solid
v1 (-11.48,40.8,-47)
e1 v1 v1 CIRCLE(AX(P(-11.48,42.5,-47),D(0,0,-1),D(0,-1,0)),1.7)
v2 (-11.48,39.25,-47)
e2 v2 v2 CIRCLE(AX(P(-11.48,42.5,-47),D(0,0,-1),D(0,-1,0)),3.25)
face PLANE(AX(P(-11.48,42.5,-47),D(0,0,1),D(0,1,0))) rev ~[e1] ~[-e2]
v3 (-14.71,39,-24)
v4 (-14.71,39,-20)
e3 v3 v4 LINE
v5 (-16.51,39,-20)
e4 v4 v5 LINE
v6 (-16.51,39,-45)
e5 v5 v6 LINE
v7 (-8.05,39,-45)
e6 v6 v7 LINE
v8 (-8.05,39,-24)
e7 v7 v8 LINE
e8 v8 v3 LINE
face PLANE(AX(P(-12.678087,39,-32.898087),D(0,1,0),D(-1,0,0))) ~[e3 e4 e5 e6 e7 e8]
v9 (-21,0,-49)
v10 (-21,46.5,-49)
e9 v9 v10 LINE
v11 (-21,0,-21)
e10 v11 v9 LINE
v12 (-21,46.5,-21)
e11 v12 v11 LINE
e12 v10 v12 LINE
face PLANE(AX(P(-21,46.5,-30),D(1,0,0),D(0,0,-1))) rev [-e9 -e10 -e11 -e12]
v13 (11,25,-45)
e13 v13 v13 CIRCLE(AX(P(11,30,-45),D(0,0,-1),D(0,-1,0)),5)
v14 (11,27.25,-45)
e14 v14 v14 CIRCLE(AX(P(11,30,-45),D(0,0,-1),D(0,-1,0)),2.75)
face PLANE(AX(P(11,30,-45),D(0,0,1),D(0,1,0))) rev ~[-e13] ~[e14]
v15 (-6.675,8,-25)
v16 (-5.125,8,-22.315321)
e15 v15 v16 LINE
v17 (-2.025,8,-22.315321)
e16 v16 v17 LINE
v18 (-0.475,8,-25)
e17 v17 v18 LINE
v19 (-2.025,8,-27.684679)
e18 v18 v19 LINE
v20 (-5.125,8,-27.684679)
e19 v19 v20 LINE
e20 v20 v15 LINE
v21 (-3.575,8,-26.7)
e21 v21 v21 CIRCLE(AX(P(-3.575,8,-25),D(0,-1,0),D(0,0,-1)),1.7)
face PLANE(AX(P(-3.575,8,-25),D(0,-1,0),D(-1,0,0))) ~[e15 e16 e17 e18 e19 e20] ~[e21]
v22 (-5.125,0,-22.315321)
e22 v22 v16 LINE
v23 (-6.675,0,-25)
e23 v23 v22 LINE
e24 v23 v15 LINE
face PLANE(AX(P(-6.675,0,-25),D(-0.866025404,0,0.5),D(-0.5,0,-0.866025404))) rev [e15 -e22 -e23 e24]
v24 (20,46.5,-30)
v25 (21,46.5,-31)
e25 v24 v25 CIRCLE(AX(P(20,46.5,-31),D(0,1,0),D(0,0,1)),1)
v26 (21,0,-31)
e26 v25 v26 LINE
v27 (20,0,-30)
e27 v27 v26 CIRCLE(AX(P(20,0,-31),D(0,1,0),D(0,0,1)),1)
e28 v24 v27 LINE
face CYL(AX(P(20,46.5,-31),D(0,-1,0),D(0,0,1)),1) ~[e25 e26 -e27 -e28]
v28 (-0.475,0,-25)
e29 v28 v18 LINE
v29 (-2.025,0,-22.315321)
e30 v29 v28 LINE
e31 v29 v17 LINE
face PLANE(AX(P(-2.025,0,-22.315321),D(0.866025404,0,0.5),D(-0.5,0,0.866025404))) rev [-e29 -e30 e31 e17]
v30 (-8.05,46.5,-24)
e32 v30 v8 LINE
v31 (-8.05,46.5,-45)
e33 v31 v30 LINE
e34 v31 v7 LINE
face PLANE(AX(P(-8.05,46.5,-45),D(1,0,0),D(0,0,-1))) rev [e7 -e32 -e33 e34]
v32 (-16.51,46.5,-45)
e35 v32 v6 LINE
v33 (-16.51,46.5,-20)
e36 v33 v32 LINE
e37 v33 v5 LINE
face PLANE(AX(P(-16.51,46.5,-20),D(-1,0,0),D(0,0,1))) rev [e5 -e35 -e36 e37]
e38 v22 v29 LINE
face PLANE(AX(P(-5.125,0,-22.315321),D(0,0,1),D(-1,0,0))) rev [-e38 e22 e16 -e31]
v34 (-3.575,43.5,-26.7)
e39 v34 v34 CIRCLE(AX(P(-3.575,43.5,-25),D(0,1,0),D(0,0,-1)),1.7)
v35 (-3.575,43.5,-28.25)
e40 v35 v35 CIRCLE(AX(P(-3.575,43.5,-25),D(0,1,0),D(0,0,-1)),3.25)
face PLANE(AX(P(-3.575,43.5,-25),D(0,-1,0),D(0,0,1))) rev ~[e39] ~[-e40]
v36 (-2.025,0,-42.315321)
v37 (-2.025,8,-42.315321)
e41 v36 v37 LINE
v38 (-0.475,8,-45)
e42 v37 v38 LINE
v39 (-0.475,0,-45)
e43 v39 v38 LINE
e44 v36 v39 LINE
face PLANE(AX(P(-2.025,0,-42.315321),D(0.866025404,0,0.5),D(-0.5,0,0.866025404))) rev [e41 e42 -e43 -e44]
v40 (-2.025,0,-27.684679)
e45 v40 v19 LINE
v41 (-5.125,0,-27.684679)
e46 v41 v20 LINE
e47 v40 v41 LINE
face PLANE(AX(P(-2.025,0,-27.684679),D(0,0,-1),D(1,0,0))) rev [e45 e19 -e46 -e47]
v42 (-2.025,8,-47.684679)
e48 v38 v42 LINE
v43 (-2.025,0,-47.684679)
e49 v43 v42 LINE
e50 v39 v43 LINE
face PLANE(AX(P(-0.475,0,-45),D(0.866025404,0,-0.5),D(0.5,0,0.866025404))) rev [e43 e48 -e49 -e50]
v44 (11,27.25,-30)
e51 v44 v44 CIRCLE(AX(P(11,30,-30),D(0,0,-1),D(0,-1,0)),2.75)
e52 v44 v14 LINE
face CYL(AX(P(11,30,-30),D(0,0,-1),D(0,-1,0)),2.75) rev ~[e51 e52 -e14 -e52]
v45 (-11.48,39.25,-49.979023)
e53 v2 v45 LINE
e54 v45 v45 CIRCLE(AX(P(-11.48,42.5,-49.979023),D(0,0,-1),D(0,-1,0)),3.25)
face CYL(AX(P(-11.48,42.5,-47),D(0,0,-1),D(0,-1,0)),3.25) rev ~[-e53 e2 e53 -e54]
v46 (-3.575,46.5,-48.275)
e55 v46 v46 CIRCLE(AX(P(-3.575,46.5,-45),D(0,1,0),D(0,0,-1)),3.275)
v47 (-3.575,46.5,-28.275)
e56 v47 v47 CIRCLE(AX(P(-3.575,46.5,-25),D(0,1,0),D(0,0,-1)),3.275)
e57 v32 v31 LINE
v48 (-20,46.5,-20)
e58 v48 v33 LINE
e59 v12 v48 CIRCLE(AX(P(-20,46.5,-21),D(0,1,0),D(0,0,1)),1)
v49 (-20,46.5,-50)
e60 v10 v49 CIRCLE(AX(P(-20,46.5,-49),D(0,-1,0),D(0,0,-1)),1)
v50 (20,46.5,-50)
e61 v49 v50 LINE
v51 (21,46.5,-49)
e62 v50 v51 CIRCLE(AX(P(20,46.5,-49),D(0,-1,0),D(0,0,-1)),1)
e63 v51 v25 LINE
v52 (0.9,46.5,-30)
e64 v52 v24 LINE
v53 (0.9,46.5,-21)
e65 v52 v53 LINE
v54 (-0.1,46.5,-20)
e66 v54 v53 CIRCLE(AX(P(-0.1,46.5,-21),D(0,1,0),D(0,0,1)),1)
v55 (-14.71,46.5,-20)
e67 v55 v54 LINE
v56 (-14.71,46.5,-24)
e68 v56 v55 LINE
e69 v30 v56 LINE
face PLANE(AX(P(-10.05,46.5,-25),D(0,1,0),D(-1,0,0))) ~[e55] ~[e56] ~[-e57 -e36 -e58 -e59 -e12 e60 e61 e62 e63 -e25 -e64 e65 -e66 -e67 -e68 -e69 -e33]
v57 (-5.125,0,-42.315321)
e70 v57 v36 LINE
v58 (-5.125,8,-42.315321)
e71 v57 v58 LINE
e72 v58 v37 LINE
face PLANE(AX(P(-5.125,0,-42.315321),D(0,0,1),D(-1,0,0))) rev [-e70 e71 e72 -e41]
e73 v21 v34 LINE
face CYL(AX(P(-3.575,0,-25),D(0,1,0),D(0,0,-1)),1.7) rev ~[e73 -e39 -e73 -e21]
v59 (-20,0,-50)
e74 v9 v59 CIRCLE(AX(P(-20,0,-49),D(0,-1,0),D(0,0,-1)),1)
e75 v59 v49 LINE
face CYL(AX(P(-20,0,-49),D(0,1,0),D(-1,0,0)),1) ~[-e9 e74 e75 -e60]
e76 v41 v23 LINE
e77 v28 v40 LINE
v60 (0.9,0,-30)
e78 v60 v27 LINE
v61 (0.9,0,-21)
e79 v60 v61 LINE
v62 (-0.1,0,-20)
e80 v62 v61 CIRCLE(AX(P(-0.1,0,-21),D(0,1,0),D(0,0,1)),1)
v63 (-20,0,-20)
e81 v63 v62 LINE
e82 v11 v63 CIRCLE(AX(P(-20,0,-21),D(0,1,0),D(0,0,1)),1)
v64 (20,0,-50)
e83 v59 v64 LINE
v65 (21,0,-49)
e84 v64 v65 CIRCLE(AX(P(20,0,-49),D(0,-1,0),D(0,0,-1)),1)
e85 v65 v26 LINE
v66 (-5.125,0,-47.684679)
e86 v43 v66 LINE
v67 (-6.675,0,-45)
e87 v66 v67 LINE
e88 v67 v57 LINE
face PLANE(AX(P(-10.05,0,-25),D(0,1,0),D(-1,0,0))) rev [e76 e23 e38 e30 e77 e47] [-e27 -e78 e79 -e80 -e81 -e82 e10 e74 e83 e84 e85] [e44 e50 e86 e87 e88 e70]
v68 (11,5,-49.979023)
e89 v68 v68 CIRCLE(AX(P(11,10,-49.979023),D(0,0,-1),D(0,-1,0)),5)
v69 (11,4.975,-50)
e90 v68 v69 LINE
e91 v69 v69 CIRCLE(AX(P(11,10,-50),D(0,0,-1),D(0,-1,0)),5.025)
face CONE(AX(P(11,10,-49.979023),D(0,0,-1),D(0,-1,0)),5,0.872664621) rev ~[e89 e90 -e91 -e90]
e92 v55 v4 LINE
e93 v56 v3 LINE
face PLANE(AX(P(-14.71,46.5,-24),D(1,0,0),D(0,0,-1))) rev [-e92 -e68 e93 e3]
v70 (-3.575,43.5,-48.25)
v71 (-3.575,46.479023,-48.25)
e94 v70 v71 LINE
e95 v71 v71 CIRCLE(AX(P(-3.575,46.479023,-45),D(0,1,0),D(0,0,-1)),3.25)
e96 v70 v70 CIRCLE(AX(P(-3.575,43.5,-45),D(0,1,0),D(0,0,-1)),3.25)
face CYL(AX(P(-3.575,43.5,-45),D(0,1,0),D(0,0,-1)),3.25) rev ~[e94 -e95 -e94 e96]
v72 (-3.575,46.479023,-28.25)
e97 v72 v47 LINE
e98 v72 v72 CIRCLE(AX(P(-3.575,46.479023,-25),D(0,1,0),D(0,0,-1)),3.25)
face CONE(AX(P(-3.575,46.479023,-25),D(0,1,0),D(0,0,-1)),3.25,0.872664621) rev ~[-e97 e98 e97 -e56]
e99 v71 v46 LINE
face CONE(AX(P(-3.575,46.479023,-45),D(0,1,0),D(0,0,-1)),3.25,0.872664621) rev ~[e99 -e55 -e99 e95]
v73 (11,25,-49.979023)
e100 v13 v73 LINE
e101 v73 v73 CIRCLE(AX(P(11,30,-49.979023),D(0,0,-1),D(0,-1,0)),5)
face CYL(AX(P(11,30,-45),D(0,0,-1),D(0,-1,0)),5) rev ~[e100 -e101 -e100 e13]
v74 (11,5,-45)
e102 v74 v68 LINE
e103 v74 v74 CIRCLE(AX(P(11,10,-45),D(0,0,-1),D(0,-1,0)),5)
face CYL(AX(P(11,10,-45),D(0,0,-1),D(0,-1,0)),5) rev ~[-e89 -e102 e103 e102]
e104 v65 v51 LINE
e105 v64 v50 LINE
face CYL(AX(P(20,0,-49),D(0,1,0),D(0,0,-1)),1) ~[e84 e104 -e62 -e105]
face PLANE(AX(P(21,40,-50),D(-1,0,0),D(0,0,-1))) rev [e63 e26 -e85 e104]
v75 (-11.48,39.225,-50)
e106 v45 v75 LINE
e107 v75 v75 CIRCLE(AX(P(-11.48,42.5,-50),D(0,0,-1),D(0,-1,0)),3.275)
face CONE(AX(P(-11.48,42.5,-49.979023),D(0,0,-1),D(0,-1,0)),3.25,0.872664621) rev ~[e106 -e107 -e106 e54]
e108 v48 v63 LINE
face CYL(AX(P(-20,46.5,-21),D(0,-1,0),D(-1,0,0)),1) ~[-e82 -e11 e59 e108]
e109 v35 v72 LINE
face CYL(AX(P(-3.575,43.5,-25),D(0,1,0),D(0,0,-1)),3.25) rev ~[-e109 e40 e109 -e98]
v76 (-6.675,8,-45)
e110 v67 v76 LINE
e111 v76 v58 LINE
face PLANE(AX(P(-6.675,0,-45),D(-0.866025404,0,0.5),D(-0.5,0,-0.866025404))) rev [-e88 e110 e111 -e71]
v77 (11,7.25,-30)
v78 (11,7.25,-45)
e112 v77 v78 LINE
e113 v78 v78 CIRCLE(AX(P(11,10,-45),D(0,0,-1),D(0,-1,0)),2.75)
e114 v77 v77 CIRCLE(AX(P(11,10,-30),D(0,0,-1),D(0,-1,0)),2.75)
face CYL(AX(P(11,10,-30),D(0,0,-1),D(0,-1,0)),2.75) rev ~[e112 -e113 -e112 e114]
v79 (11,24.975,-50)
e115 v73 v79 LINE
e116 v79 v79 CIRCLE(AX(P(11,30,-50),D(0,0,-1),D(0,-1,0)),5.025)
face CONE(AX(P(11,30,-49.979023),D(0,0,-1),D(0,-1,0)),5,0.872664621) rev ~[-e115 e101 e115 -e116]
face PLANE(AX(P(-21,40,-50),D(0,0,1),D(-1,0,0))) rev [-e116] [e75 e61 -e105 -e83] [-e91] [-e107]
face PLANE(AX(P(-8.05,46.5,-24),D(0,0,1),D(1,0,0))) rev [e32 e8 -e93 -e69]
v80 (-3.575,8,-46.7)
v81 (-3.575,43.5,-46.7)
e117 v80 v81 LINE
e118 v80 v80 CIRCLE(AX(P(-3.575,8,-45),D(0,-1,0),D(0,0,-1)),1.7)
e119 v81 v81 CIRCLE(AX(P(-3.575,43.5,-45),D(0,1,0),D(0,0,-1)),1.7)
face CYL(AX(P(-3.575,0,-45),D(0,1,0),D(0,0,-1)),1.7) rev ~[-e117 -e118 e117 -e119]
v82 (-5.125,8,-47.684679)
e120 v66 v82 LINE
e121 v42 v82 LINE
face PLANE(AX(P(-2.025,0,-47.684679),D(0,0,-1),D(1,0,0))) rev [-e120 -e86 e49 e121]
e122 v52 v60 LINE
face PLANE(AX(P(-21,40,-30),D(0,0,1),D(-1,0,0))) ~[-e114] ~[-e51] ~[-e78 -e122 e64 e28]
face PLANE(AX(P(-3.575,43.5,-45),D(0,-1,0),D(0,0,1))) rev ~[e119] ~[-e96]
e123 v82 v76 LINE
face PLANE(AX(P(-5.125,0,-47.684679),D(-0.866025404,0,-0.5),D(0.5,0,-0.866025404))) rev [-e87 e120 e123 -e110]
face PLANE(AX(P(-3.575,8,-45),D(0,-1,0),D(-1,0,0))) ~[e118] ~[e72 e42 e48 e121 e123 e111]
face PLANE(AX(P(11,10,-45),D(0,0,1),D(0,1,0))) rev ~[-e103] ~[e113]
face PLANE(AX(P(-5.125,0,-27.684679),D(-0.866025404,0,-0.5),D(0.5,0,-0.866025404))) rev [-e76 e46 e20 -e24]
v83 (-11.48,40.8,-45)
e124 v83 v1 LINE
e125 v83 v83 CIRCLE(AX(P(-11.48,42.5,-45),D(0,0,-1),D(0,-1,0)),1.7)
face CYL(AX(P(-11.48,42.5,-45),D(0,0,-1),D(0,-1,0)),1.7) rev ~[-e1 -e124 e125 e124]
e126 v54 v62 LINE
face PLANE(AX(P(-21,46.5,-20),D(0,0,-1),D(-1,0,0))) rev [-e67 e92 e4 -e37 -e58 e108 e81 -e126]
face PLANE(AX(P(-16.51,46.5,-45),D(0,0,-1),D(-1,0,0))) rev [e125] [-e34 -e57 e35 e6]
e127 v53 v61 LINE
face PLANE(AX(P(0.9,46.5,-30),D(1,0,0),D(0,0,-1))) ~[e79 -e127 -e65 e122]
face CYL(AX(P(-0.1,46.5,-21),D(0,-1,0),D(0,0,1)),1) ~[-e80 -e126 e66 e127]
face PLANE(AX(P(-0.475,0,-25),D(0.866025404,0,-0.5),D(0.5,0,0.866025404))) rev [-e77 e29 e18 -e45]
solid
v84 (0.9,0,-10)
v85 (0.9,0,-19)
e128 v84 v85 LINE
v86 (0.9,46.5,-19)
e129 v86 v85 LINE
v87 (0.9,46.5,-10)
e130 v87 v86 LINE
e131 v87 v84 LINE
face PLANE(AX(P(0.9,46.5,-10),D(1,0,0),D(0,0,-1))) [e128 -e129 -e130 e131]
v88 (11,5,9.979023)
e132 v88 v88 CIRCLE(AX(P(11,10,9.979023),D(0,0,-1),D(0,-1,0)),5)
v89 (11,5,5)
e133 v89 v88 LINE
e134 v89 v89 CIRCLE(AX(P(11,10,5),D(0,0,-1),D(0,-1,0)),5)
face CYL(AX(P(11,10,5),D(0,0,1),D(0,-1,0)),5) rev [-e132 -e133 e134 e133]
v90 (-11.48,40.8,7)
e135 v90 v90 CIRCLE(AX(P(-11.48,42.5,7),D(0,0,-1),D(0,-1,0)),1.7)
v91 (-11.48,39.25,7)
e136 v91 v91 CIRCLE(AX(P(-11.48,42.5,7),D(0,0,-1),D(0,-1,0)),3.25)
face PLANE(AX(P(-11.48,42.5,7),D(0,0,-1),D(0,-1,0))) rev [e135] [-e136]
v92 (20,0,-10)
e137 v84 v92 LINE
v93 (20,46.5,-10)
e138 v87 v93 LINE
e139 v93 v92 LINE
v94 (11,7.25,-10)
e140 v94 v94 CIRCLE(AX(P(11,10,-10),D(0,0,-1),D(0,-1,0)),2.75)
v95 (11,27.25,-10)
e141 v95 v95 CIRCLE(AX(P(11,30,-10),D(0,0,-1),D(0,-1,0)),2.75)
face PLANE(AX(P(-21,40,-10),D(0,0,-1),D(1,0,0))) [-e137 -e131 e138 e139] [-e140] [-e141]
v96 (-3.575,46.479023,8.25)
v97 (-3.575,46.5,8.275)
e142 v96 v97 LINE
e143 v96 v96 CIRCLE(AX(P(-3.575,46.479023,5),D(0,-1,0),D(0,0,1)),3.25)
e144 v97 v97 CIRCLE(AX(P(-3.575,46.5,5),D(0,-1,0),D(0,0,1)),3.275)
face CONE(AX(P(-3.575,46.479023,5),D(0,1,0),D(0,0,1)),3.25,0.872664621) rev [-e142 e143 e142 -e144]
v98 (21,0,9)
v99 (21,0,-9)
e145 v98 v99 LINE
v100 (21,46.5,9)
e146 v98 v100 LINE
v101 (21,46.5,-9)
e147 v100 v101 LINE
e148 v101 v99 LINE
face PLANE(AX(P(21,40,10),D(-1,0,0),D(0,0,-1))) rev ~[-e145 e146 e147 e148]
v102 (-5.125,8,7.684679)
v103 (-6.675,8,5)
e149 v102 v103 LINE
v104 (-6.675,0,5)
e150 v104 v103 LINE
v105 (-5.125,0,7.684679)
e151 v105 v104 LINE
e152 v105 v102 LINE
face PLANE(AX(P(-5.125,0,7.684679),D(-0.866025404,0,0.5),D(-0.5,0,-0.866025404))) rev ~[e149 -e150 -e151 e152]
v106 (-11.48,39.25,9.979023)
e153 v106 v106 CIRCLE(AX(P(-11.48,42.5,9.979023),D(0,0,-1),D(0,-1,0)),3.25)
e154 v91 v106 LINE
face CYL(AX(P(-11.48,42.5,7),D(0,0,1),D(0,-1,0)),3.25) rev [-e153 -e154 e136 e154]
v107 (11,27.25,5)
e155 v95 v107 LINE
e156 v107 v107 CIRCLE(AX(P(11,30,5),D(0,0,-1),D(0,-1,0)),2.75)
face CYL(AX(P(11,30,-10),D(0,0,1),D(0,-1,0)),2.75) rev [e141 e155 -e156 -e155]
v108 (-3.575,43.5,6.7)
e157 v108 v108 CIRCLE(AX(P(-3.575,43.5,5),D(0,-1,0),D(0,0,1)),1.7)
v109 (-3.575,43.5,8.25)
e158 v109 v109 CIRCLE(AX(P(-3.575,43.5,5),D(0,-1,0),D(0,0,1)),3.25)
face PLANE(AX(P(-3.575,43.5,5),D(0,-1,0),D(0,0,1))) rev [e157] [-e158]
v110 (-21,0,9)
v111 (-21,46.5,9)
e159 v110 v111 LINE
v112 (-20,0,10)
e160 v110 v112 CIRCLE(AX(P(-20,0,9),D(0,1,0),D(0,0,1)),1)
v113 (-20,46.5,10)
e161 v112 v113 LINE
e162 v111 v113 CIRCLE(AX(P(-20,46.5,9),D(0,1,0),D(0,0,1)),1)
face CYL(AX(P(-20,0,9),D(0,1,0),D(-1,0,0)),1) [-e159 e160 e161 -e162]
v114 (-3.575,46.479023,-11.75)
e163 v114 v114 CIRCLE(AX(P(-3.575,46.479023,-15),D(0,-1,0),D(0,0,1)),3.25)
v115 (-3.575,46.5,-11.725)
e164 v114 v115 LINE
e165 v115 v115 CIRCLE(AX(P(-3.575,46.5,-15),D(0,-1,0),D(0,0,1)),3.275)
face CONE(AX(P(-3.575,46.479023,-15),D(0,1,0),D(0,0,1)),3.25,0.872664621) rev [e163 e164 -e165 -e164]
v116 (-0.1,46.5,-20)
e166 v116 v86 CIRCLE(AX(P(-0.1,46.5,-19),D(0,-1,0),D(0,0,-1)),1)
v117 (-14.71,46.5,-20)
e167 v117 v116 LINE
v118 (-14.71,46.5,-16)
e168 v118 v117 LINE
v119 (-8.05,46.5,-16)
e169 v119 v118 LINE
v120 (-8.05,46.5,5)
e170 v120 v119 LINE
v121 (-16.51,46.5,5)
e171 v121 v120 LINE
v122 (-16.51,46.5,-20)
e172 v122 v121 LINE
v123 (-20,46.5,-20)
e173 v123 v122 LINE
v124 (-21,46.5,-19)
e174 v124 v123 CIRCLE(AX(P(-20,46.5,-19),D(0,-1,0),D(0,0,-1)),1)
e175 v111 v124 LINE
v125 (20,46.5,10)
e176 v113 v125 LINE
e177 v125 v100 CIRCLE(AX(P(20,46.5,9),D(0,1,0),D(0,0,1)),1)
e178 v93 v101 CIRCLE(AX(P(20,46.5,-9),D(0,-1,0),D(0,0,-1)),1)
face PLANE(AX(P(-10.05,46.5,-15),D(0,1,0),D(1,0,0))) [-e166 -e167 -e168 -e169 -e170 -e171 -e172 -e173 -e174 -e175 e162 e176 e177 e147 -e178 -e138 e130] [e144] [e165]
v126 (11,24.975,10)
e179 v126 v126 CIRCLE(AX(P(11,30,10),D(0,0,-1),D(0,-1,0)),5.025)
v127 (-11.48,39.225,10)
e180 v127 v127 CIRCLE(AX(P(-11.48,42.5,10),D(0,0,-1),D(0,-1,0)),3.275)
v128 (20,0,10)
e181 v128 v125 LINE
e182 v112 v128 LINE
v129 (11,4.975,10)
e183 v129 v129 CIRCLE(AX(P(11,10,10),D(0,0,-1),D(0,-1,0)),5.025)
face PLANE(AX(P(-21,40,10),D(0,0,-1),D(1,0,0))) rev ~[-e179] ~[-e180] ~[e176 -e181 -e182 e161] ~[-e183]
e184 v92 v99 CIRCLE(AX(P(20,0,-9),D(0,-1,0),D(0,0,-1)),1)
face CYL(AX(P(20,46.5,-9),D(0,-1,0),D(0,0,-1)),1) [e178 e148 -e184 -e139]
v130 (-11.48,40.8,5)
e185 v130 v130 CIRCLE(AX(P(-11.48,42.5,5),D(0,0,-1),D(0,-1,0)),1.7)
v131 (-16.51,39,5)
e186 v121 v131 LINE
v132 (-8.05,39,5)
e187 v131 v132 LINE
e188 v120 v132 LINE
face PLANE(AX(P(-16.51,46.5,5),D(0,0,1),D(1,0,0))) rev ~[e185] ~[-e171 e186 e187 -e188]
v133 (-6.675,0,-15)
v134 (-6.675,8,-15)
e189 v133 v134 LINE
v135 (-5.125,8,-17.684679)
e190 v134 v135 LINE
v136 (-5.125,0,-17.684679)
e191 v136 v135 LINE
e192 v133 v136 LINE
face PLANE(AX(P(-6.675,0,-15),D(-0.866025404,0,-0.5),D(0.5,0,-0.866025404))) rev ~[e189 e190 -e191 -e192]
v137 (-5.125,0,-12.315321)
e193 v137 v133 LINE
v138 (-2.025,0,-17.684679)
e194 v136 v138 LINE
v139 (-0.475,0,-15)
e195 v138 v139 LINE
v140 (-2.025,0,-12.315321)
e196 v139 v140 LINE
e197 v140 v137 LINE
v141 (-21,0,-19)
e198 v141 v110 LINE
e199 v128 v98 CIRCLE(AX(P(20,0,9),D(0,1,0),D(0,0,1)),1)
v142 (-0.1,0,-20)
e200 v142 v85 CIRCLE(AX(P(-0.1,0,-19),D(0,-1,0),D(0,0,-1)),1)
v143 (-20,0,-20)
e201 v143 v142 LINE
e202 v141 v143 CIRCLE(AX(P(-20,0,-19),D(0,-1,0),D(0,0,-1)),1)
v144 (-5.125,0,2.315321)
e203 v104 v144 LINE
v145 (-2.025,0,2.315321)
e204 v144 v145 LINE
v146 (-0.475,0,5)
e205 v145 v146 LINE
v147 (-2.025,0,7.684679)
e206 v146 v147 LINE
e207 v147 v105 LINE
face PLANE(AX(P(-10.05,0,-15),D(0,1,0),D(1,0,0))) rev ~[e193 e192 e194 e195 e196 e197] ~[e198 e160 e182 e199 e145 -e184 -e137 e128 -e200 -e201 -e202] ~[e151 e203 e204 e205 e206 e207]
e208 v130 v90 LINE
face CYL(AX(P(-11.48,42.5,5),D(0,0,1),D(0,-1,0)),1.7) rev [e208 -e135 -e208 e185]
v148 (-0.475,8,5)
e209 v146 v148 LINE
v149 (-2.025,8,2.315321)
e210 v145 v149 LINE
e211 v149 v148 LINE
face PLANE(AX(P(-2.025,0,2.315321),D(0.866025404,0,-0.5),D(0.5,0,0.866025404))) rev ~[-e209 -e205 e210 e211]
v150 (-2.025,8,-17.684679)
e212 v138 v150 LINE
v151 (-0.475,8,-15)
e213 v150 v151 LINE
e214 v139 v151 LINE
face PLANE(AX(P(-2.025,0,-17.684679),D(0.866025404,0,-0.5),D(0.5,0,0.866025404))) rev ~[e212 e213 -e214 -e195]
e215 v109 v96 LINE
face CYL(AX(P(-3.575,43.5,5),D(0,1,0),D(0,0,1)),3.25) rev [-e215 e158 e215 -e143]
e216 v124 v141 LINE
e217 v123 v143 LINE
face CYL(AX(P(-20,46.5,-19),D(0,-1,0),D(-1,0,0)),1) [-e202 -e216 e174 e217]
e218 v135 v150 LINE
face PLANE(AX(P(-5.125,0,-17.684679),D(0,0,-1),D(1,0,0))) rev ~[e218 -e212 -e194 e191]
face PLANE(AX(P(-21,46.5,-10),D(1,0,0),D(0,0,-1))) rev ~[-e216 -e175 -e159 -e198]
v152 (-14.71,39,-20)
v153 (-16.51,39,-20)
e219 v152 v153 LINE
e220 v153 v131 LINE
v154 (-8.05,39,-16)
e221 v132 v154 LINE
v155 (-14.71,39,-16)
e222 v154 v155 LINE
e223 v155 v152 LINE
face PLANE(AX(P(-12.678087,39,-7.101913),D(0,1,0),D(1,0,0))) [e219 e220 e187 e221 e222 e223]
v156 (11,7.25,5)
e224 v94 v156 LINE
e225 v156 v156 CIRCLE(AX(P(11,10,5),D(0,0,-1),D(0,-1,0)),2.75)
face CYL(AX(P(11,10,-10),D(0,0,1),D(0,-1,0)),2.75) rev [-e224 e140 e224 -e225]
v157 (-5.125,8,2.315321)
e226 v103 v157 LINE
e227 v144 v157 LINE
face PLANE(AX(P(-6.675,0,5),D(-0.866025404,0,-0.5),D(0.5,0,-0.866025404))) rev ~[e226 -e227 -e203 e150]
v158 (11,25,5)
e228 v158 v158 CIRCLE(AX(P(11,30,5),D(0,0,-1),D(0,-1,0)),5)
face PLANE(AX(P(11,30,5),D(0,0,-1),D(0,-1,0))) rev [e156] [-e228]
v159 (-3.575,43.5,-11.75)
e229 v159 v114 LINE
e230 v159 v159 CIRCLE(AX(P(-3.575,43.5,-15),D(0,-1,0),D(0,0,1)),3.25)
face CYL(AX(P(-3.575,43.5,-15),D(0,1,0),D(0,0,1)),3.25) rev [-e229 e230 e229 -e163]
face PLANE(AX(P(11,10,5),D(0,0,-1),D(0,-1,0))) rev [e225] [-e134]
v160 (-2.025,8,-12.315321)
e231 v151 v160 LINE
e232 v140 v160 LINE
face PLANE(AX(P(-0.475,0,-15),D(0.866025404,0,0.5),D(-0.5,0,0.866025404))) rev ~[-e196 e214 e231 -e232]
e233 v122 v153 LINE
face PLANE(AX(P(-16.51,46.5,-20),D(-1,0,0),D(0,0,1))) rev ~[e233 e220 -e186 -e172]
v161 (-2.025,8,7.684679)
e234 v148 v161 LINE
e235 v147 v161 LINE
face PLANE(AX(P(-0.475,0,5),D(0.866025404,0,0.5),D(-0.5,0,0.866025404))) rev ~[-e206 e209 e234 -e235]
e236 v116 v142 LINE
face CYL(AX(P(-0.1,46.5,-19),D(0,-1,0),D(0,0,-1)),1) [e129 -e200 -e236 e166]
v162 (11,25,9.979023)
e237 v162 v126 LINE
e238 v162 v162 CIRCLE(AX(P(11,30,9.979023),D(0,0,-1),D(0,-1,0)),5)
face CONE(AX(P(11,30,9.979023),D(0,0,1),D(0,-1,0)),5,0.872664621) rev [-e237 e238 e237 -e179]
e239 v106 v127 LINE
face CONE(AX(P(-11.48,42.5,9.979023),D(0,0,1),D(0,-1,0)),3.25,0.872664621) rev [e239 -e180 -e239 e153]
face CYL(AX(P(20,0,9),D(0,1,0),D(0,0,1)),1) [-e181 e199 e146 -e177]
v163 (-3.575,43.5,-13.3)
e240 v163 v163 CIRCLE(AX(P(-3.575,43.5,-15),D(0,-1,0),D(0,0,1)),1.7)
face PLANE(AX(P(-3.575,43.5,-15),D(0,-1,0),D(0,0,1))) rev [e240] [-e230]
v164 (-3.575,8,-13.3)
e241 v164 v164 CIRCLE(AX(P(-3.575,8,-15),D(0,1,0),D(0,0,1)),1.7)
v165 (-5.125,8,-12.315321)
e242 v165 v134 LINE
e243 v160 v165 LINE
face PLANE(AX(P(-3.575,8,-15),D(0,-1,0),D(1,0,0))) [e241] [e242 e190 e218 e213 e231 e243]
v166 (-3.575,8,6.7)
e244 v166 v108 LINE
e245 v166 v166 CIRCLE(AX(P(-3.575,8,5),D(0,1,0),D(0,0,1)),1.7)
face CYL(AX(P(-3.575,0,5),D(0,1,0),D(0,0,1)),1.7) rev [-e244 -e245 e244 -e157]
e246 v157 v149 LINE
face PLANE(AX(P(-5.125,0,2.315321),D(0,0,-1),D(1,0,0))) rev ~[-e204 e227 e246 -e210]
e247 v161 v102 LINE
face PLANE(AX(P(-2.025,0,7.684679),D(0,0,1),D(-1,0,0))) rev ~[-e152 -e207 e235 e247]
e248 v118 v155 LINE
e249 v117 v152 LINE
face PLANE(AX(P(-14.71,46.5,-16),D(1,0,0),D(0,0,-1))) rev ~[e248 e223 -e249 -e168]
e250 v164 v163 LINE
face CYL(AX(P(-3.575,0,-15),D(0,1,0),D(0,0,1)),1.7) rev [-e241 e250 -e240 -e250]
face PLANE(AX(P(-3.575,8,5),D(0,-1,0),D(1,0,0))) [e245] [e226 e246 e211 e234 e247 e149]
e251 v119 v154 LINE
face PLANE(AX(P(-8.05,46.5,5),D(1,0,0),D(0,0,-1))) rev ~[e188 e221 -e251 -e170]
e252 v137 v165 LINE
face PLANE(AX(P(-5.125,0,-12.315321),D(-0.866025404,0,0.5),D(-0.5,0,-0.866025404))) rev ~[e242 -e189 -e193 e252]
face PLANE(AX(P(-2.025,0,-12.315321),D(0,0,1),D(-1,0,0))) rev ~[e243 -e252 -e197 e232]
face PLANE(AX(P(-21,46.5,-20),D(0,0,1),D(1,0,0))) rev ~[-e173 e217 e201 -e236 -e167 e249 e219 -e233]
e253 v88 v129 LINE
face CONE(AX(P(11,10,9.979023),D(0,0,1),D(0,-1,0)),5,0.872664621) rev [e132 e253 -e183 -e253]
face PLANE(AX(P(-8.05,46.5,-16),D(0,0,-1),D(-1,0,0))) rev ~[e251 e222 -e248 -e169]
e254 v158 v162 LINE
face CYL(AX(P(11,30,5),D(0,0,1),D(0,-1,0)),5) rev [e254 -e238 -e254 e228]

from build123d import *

# Parameters (mm, degrees)
SKETCH1_W                     = 42
SKETCH1_H                     = 20
BOSS_EXTRUDE1_DEPTH           = 40
CBORE_FOR_M5_SHCS1_AT_2_COUNT = 2
CBORE_FOR_M5_SHCS1_AT_2_PITCH = 20
SKETCH5_W                     = 42
SKETCH5_H                     = 20
BOSS_EXTRUDE2_DEPTH           = 6.5
SKETCH12_W                    = 21.9
SKETCH12_H                    = 10
BOSS_EXTRUDE3_DEPTH           = 46.5
CUT_EXTRUDE1_DEPTH            = 7.5
FILLET1_R                     = 1
CBORE_FOR_M3_SHCS2_AT_2_COUNT = 2
CBORE_FOR_M3_SHCS2_AT_2_PITCH = 20
CUT_EXTRUDE2_DEPTH            = 8


with BuildPart() as part:
    # Sketch1 → Boss-Extrude1 (new body)
    with BuildSketch(Plane(origin=(0, 0, 0), x_dir=(1, 0, 0), z_dir=(0, 1, 0))):
        Rectangle(SKETCH1_W, SKETCH1_H)
    extrude(amount=BOSS_EXTRUDE1_DEPTH)

    # Sketch4 → CBORE for M5 SHCS1 (revolve, cut)
    with BuildSketch(Plane(origin=(11, 30, 10), x_dir=(0, -1, 0), z_dir=(1, 0, 0))):
        Polygon((0, 0), (0, 20), (2.75, 20), (2.75, 5), (5, 5), (5, 0.020977491), (5.025, 0), align=None)
    cbore_for_m5_shcs1 = revolve(axis=Axis((11, 30, 16.35), (0, 0, -1)), mode=Mode.SUBTRACT)

    # CBORE for M5 SHCS1 at 2: CBORE for M5 SHCS1 ×2
    with Locations(*[(0, -i * CBORE_FOR_M5_SHCS1_AT_2_PITCH, 0) for i in range(1, CBORE_FOR_M5_SHCS1_AT_2_COUNT)]):
        add(cbore_for_m5_shcs1, mode=Mode.SUBTRACT)

    # Sketch5 → Boss-Extrude2 (add)
    with BuildSketch(Plane(origin=(0, 40, 0), x_dir=(1, 0, 0), z_dir=(0, 1, 0))):
        Rectangle(SKETCH5_W, SKETCH5_H)
    extrude(amount=BOSS_EXTRUDE2_DEPTH)

    # Sketch12 → Boss-Extrude3 (add)
    with BuildSketch(Plane(origin=(0, 46.5, 0), x_dir=(1, 0, 0), z_dir=(0, 1, 0))):
        with Locations((-10.05, 15)):
            Rectangle(SKETCH12_W, SKETCH12_H)
    extrude(amount=-BOSS_EXTRUDE3_DEPTH)

    # Sketch6 → Cut-Extrude1 (cut)
    with BuildSketch(Plane(origin=(0, 46.5, 0), x_dir=(1, 0, 0), z_dir=(0, 1, 0))):
        Polygon((-16.51, 20), (-16.51, -5), (-8.05, -5), (-8.05, 16), (-14.71, 16), (-14.71, 20), align=None)
    extrude(amount=-CUT_EXTRUDE1_DEPTH, mode=Mode.SUBTRACT)

    # Fillet1
    fillet1_edges = [part.edges().sort_by_distance(p)[0] for p in [
        (0.9, 23.25, -20),
        (-21, 23.25, -20),
        (21, 23.25, -10),
        (21, 23.25, 10),
        (-21, 23.25, 10),
    ]]
    fillet(fillet1_edges, radius=FILLET1_R)

    # Sketch11 → CBORE for M3 SHCS1 (revolve, cut)
    with BuildSketch(Plane(origin=(-11.48, 42.5, 10), x_dir=(0, -1, 0), z_dir=(1, 0, 0))):
        Polygon((0, 0), (0, 6.021463052), (1.7, 5), (1.7, 3), (3.25, 3), (3.25, 0.020977491), (3.275, 0), align=None)
    revolve(axis=Axis((-11.48, 42.5, 16.35), (0, 0, -1)), mode=Mode.SUBTRACT)

    # Sketch16 → CBORE for M3 SHCS2 (revolve, cut)
    with BuildSketch(Plane(origin=(-3.575, 46.5, -15), x_dir=(0, 0, 1), z_dir=(1, 0, 0))):
        Polygon((0, 0), (0, 46.5), (1.7, 46.5), (1.7, 3), (3.25, 3), (3.25, 0.020977491), (3.275, 0), align=None)
    cbore_for_m3_shcs2 = revolve(axis=Axis((-3.575, 52.85, -15), (0, -1, 0)), mode=Mode.SUBTRACT)

    # CBORE for M3 SHCS2 at 2: CBORE for M3 SHCS2 ×2
    with Locations(*[(0, 0, i * CBORE_FOR_M3_SHCS2_AT_2_PITCH) for i in range(1, CBORE_FOR_M3_SHCS2_AT_2_COUNT)]):
        add(cbore_for_m3_shcs2, mode=Mode.SUBTRACT)

    # Sketch18 → Cut-Extrude2 (cut)
    with BuildSketch(Plane.XZ):
        Polygon((-0.475, 5), (-2.025, 7.684678752), (-5.125, 7.684678752), (-6.675, 5), (-5.125, 2.315321248), (-2.025, 2.315321248), align=None)
        Polygon((-0.475, -15), (-2.025, -12.315321248), (-5.125, -12.315321248), (-6.675, -15), (-5.125, -17.684678752), (-2.025, -17.684678752), align=None)
    extrude(amount=-CUT_EXTRUDE2_DEPTH, mode=Mode.SUBTRACT)


with BuildPart() as body_2:
    # Mirror1: mirrored copy
    add(part.part.mirror(Plane(origin=(-21, -24.075090862, -20), x_dir=(1, 0, 0), z_dir=(0, 0, -1))))


solid = Compound([part.part, body_2.part])
